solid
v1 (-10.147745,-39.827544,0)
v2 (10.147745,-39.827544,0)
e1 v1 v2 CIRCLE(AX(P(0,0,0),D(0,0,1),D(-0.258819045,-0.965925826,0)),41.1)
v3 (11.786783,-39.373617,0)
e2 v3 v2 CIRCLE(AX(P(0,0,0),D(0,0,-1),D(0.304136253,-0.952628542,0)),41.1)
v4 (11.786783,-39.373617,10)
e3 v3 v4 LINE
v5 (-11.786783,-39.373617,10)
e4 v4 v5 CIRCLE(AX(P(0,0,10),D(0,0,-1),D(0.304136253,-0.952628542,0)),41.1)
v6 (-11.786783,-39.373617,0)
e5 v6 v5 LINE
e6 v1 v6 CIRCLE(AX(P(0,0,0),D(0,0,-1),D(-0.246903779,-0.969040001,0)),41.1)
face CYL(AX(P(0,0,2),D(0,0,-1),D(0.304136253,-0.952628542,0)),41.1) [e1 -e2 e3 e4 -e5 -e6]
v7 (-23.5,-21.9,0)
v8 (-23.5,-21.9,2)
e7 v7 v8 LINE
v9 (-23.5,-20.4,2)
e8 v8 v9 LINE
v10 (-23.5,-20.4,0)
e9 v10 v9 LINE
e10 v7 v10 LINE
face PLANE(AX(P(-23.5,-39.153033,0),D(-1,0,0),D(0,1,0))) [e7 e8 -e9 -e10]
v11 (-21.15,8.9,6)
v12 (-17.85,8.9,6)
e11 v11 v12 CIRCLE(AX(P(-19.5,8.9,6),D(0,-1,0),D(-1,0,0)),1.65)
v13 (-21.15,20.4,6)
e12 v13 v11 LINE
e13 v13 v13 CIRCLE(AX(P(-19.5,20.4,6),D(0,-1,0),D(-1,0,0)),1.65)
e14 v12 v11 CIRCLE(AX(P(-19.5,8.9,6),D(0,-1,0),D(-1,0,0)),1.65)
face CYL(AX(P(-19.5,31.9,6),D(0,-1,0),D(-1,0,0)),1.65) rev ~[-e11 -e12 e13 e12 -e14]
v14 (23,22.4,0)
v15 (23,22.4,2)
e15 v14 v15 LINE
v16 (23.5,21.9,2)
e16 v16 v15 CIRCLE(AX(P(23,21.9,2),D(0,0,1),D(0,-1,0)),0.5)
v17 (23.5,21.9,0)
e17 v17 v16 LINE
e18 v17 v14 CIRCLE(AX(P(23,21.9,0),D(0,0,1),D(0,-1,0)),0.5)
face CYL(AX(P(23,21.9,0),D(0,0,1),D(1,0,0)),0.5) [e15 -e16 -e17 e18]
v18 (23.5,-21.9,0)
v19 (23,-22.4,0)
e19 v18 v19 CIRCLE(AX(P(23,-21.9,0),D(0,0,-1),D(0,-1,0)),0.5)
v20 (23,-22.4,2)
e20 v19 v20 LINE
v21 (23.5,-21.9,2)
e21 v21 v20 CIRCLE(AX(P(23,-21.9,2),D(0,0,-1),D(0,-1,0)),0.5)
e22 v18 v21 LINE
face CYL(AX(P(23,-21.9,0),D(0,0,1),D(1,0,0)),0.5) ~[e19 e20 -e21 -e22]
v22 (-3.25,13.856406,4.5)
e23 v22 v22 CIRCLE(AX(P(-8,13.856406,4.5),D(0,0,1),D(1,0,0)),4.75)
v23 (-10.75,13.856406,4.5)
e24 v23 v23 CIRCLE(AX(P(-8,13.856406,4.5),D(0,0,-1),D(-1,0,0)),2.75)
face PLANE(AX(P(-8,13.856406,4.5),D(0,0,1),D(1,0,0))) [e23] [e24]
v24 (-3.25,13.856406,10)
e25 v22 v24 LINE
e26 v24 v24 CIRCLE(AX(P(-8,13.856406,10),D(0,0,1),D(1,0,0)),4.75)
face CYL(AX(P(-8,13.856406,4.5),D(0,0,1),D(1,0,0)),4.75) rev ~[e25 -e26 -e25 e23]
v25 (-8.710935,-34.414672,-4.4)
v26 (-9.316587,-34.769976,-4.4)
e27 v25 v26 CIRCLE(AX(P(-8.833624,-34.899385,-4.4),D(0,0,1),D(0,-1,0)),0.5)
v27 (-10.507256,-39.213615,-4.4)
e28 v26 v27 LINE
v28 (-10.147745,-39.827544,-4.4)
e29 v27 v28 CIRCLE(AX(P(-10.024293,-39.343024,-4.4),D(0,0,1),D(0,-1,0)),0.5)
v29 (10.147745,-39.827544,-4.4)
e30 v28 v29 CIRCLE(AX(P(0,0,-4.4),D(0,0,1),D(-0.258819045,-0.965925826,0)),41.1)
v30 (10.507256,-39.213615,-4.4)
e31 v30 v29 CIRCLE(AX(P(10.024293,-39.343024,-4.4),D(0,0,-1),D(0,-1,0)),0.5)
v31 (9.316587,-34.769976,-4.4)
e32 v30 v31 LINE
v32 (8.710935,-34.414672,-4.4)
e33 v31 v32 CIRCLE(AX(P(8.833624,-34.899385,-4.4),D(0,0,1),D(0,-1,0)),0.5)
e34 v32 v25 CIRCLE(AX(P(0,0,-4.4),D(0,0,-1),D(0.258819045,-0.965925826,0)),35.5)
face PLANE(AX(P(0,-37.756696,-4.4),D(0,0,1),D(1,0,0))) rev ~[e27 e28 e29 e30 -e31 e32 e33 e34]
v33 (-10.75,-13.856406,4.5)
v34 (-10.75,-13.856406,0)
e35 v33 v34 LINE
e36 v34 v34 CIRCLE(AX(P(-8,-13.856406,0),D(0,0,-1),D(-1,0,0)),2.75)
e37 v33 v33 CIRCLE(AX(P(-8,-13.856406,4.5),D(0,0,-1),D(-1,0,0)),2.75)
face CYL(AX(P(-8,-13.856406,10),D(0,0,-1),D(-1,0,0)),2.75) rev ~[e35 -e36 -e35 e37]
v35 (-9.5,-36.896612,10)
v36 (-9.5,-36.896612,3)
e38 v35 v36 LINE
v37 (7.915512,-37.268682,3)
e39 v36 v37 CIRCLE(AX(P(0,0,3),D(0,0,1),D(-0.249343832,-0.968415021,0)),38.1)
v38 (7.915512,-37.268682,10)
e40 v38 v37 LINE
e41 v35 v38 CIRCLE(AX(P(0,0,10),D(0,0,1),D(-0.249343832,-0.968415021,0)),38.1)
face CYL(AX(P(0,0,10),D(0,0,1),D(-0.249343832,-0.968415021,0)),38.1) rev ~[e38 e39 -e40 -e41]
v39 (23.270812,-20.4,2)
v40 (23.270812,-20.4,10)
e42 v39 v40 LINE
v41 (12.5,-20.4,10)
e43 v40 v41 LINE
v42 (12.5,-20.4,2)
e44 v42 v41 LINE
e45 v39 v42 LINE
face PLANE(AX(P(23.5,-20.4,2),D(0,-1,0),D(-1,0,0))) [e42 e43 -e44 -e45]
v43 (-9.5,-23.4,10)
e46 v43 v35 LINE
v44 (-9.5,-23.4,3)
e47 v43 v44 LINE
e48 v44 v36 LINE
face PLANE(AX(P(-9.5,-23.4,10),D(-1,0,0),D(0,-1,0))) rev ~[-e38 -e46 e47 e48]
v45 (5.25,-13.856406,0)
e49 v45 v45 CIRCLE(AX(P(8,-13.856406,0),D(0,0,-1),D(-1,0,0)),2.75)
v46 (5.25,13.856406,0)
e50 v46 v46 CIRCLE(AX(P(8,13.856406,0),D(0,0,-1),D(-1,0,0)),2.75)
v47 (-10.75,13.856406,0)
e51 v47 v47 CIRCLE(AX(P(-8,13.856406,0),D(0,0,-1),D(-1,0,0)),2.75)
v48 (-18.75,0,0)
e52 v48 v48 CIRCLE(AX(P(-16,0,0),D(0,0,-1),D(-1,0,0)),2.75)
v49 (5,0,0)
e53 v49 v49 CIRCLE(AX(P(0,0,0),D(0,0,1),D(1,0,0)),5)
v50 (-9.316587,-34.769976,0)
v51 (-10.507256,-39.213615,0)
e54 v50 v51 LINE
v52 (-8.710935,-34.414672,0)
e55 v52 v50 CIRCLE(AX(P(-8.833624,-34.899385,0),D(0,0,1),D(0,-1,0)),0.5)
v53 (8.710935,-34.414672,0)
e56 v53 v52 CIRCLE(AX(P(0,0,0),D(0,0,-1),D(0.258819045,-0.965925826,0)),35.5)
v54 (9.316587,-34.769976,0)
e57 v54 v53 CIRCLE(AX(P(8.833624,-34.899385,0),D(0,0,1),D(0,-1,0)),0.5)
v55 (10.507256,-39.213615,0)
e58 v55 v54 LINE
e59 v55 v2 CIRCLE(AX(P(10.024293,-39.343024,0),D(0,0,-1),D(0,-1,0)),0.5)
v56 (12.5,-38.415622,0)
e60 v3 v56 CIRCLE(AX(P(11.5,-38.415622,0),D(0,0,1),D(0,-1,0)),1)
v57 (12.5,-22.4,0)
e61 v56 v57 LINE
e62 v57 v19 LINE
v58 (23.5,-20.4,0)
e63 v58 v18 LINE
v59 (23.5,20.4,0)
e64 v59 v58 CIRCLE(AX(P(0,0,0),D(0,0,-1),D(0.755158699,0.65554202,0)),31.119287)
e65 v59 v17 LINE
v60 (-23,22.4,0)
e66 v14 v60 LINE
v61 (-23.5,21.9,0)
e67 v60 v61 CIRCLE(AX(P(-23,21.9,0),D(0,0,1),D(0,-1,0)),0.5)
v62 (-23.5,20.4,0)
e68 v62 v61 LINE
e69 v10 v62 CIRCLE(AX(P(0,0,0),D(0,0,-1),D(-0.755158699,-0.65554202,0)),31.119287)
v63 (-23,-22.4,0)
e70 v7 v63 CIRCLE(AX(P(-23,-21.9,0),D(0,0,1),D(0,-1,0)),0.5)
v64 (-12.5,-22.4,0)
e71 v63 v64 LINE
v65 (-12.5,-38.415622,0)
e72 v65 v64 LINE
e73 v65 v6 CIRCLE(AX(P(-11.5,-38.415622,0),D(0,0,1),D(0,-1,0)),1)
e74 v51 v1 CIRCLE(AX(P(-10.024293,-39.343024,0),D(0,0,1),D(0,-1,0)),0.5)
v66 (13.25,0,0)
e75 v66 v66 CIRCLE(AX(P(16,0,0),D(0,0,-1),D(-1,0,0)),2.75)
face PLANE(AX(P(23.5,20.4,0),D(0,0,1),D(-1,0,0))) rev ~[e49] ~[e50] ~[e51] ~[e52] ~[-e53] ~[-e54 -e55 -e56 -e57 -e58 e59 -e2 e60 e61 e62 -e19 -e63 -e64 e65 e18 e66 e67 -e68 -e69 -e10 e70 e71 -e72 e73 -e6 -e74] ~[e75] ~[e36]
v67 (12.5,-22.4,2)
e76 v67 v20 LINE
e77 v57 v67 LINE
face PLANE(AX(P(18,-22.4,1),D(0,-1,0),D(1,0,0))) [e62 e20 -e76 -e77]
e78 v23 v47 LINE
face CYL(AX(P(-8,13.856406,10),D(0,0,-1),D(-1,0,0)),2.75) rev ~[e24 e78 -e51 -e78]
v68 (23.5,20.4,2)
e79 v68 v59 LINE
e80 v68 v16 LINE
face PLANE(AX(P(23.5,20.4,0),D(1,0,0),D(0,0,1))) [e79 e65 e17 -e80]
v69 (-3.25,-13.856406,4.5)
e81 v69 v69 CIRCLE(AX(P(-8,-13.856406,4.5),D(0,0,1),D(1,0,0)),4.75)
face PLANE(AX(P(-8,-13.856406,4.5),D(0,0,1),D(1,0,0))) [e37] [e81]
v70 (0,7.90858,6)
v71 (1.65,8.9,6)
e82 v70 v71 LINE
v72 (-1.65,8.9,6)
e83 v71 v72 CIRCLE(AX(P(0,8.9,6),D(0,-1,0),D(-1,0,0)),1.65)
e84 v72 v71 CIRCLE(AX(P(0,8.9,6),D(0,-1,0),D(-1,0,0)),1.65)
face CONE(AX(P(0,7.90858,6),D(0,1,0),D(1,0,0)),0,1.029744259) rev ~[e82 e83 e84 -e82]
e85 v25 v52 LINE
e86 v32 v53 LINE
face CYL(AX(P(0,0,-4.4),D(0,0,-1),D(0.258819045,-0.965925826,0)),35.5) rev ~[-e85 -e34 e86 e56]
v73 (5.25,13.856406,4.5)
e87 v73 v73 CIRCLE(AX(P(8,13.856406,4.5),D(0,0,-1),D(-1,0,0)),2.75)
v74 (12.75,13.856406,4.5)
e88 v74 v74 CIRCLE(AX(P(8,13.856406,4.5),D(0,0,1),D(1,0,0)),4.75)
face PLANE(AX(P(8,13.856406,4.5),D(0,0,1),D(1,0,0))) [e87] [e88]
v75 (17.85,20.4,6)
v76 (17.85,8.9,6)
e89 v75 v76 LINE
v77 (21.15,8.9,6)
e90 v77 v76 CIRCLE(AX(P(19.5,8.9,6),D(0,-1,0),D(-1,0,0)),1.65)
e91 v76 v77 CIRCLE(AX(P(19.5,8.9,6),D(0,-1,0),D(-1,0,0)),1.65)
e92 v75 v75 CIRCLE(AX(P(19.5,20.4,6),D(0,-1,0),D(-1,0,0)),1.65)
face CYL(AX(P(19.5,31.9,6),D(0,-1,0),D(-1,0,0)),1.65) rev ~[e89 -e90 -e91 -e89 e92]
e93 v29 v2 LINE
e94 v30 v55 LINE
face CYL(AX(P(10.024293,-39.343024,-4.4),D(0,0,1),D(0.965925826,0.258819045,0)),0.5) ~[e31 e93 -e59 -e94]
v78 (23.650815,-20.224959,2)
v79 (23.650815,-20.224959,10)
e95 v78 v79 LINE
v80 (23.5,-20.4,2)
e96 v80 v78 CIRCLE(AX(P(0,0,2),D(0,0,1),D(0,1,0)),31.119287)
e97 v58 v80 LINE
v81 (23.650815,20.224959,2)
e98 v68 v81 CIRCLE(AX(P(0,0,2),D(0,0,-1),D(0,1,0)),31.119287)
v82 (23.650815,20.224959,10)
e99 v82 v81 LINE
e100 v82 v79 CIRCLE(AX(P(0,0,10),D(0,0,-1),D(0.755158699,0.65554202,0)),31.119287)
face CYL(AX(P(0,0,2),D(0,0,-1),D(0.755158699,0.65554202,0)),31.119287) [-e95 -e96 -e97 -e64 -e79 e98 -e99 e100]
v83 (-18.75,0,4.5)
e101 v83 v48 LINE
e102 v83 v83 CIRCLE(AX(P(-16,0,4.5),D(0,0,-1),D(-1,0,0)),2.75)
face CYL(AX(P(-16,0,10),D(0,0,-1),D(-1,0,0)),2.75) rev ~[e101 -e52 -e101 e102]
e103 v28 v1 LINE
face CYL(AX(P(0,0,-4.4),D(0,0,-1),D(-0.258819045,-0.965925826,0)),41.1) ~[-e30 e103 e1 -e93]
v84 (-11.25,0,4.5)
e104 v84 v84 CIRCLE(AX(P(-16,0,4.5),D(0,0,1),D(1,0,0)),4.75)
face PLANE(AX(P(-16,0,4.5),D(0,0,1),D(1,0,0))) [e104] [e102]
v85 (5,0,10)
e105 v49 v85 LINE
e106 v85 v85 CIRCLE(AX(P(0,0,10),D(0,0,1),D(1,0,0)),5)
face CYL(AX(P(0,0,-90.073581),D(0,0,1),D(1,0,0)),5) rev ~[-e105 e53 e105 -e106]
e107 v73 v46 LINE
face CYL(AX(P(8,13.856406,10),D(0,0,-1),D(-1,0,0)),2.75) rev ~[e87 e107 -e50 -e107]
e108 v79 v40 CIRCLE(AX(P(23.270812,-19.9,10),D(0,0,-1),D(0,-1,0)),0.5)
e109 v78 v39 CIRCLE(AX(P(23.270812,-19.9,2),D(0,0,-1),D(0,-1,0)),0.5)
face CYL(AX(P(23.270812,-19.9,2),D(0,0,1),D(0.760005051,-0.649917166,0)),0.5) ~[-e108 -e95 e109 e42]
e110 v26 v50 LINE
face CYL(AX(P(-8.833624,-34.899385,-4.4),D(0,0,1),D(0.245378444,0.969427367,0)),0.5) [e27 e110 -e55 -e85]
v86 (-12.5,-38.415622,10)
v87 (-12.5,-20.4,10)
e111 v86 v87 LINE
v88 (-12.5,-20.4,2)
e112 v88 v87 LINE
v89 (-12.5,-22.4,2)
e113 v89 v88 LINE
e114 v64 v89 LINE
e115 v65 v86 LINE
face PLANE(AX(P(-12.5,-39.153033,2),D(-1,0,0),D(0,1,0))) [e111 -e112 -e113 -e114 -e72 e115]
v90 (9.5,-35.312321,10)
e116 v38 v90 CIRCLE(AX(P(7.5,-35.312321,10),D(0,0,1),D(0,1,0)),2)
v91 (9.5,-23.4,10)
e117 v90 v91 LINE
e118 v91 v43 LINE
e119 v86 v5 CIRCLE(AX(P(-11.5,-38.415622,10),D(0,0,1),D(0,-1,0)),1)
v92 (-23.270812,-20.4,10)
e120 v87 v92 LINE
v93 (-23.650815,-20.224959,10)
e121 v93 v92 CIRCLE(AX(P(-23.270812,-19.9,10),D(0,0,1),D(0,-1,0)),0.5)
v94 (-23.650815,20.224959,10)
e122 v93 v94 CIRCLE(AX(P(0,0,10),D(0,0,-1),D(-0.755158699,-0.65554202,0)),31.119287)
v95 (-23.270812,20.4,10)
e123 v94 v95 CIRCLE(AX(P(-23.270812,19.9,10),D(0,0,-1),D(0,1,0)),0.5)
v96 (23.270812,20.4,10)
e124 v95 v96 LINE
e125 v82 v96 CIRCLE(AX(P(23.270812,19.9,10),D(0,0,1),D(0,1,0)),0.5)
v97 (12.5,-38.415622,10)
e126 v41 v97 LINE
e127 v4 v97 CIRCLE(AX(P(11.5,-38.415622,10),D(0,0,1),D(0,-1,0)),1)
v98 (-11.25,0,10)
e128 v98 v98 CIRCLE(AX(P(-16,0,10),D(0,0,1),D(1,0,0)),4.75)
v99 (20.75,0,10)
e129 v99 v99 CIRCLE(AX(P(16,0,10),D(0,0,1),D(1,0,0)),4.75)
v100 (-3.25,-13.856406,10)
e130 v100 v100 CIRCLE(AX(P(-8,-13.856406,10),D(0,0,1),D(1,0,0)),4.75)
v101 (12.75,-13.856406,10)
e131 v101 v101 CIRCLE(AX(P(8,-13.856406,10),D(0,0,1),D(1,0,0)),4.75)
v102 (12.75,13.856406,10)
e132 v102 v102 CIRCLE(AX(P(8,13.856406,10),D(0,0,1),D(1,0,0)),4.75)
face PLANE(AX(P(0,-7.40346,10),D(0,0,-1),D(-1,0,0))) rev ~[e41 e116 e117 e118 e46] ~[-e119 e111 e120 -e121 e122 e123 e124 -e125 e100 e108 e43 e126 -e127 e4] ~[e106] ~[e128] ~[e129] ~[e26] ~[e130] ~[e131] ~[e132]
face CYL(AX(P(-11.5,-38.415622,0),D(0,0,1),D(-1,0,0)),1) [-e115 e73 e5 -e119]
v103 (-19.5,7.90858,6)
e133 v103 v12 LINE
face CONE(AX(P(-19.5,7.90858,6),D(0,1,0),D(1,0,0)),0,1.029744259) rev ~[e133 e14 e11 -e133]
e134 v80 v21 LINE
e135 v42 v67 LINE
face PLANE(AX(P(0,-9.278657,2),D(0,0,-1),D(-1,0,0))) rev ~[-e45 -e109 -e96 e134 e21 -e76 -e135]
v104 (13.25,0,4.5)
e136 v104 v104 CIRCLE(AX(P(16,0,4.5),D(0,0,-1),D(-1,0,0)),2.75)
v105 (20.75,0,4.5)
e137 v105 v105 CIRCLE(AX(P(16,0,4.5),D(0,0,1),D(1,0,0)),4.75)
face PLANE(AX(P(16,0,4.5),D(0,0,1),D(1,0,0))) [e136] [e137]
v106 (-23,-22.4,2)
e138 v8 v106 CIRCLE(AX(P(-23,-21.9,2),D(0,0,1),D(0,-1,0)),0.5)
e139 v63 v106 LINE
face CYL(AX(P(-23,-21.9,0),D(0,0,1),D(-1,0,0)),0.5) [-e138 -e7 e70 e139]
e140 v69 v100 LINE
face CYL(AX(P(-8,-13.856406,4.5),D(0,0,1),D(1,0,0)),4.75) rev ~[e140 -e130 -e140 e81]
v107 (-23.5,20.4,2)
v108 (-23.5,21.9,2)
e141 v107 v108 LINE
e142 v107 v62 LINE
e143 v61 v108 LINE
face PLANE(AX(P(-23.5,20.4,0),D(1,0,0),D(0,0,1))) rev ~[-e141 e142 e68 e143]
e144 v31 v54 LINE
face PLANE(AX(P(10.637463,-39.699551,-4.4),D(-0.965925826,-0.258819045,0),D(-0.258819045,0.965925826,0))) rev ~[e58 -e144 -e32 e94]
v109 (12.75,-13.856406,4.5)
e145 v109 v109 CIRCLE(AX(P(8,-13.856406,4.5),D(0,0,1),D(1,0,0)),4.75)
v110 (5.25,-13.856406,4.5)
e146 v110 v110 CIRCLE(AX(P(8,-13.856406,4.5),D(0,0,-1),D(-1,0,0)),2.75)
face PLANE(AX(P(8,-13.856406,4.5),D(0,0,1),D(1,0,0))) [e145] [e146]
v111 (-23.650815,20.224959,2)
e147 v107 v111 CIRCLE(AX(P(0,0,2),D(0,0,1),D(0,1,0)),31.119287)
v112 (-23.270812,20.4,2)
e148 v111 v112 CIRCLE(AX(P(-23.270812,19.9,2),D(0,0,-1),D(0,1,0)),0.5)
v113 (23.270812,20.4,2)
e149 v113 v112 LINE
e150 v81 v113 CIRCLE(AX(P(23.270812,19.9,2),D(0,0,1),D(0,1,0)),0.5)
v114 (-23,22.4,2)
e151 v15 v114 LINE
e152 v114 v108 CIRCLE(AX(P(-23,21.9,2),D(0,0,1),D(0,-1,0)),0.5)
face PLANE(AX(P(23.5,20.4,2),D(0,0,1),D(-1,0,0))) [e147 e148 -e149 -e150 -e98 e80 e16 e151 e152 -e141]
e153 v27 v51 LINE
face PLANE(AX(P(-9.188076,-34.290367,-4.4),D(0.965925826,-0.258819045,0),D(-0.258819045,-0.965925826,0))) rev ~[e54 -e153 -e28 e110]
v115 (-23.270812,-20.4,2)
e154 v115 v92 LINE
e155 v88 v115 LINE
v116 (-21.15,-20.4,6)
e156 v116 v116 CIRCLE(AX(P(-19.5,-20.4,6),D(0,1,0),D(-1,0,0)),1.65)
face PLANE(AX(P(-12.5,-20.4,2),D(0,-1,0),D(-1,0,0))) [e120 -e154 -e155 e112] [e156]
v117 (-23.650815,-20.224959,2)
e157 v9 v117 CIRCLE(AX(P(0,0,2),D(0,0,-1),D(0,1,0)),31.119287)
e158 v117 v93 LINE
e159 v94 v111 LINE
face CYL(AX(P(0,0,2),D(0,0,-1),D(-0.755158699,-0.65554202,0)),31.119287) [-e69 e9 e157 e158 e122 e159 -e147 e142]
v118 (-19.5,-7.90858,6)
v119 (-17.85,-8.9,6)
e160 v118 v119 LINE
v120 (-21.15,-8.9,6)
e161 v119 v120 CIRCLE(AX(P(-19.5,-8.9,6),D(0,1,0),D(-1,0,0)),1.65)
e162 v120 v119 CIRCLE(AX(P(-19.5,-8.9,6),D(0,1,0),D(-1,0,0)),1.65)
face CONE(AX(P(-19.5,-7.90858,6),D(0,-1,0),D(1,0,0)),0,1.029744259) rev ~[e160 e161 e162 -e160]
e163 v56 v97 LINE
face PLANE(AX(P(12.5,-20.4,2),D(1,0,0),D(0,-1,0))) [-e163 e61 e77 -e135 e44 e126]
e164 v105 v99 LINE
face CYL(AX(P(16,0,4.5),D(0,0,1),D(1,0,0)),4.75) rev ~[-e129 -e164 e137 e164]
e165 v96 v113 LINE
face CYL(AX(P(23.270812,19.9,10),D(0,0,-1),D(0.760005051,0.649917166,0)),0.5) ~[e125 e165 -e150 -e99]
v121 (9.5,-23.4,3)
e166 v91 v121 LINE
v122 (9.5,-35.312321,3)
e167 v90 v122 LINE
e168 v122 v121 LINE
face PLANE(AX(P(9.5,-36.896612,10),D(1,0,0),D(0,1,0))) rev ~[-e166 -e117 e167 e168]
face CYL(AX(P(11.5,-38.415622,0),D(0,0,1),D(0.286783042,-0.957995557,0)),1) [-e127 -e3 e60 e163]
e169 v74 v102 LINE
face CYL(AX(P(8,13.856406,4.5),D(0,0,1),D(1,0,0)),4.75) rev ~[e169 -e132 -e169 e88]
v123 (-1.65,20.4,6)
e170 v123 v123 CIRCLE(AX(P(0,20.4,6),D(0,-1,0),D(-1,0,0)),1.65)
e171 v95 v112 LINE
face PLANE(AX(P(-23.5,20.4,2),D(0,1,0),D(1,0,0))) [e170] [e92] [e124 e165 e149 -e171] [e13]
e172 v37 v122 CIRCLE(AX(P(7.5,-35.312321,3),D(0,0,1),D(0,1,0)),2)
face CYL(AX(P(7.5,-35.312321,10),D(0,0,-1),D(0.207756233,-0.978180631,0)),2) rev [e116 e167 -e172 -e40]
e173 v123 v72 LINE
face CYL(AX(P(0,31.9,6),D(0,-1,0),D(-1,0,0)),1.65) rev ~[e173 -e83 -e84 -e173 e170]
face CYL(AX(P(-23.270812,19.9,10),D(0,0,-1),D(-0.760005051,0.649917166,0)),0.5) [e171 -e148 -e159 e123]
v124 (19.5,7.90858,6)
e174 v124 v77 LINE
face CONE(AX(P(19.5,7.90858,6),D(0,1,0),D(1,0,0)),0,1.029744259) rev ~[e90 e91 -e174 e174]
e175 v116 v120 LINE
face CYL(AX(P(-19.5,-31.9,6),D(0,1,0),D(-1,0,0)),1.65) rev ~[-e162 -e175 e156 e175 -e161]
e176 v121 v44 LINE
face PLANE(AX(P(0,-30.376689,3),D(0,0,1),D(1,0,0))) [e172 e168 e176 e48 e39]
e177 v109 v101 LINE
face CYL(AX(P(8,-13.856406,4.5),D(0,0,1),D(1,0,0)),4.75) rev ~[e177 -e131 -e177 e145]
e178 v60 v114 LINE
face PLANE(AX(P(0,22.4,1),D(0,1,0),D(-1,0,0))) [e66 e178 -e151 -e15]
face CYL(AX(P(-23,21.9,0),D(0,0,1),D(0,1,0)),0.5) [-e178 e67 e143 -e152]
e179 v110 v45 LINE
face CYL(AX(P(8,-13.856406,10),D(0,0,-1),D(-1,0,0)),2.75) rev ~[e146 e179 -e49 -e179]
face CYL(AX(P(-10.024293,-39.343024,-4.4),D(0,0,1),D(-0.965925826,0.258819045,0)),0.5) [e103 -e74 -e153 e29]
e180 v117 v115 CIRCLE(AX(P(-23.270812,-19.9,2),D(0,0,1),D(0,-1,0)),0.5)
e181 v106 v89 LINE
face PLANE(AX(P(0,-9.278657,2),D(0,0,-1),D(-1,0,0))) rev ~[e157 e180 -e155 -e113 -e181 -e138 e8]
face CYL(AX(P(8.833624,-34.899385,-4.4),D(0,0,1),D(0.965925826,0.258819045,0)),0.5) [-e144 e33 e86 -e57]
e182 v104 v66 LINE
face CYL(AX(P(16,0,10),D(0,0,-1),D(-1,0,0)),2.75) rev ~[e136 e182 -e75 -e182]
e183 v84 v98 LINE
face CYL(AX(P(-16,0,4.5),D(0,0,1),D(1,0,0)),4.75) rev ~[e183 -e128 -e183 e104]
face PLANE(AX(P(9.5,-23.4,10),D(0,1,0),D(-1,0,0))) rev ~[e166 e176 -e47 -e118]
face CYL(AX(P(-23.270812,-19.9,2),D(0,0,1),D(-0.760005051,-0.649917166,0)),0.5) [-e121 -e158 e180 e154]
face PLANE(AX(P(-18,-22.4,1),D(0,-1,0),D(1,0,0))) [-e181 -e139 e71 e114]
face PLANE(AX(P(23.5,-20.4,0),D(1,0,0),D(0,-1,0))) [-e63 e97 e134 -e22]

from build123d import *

# Parameters (mm, degrees)
EXTRUDE_1_DEPTH              = 2
SKETCH_2_W                   = 11
SKETCH_2_H                   = 2
CUT_EXTRUDE_1_DEPTH          = 16.753033088
SKETCH_3_W                   = 11
SKETCH_3_H                   = 2
CUT_EXTRUDE_2_DEPTH          = 16.753033088
EXTRUDE_2_DEPTH              = 8
SKETCH_5_W                   = 47
SKETCH_5_H                   = 2
EXTRUDE_3_DEPTH              = 2
EXTRUDE_START                = 4.4
EXTRUDE_4_DEPTH              = 4.4
CUT_EXTRUDE_3_DEPTH          = 7
HOLE_WIZARD_3_3_3_3_1_D      = 3.3
HOLE_WIZARD_3_3_3_3_1_DEPTH  = 11.5
HOLE_WIZARD_3_3_3_3_1_TIP    = 0.991420021
HOLE_WIZARD_3_3_3_3_2_D      = 3.3
HOLE_WIZARD_3_3_3_3_2_DEPTH  = 11.5
HOLE_WIZARD_3_3_3_3_2_TIP    = 0.991420021
HOLE_WIZARD_10_0_10_1_D      = 10
HOLE_WIZARD_M5_1_D           = 5.5
HOLE_WIZARD_M5_1_DEPTH       = 14.4
HOLE_WIZARD_M5_1_CBORE_D     = 9.5
HOLE_WIZARD_M5_1_CBORE_DEPTH = 5.5
FILLET_1_R                   = 0.5
FILLET_2_R                   = 1
FILLET_4_R                   = 2


with BuildPart() as part:
    # 草图1 → 凸台-拉伸1 (new body)
    with BuildSketch(Plane(origin=(0, 0, 0), x_dir=(-1, 0, 0), z_dir=(0, 0, -1))):
        with BuildLine():
            Line((12.5, -39.153033088), (23.5, -39.153033088))
            Line((23.5, -39.153033088), (23.5, -20.4))
            ThreePointArc((23.5, -20.4), (31.119286624, 0), (23.5, 20.4))
            Line((23.5, 20.4), (-23.5, 20.4))
            ThreePointArc((-23.5, 20.4), (-31.119286624, 0), (-23.5, -20.4))
            Line((-23.5, -20.4), (-23.5, -39.153033088))
            Line((-23.5, -39.153033088), (-12.5, -39.153033088))
            ThreePointArc((-12.5, -39.153033088), (0, -41.1), (12.5, -39.153033088))
        make_face()
    extrude(amount=-EXTRUDE_1_DEPTH)

    # 草图2 → 切除-拉伸1 (cut)
    with BuildSketch(Plane.XZ.offset(39.153033088)):
        with Locations((-18, 1)):
            Rectangle(SKETCH_2_W, SKETCH_2_H)
    extrude(amount=-CUT_EXTRUDE_1_DEPTH, mode=Mode.SUBTRACT)

    # 草图3 → 切除-拉伸2 (cut)
    with BuildSketch(Plane.XZ.offset(39.153033088)):
        with Locations((18, 1)):
            Rectangle(SKETCH_3_W, SKETCH_3_H)
    extrude(amount=-CUT_EXTRUDE_2_DEPTH, mode=Mode.SUBTRACT)

    # 草图4 → 凸台-拉伸2 (add)
    with BuildSketch(Plane.XY.offset(2)):
        with BuildLine():
            Line((-12.5, -39.153033088), (-12.5, -20.4))
            Line((-12.5, -20.4), (-23.5, -20.4))
            ThreePointArc((-23.5, -20.4), (-31.119286624, 0), (-23.5, 20.4))
            Line((-23.5, 20.4), (23.5, 20.4))
            ThreePointArc((23.5, 20.4), (31.119286624, 0), (23.5, -20.4))
            Line((23.5, -20.4), (12.5, -20.4))
            Line((12.5, -20.4), (12.5, -39.153033088))
            ThreePointArc((12.5, -39.153033088), (0, -41.1), (-12.5, -39.153033088))
        make_face()
    extrude(amount=EXTRUDE_2_DEPTH)

    # 草图5 → 凸台-拉伸3 (add)
    with BuildSketch(Plane(origin=(0, 20.4, 0), x_dir=(-1, 0, 0), z_dir=(0, 1, 0))):
        with Locations((0, 1)):
            Rectangle(SKETCH_5_W, SKETCH_5_H)
    extrude(amount=EXTRUDE_3_DEPTH)

    # 草图6 → 凸台-拉伸4 (add)
    with BuildSketch(Plane(origin=(0, 0, 0), x_dir=(-1, 0, 0), z_dir=(0, 0, -1)).offset(EXTRUDE_START)):
        with BuildLine():
            Line((9.188076101, -34.290366833), (10.637462754, -39.69955146))
            ThreePointArc((10.637462754, -39.69955146), (0, -41.1), (-10.637462754, -39.69955146))
            Line((-10.637462754, -39.69955146), (-9.188076101, -34.290366833))
            ThreePointArc((-9.188076101, -34.290366833), (0, -35.5), (9.188076101, -34.290366833))
        make_face()
    extrude(amount=-EXTRUDE_4_DEPTH)

    # 草图7 → 切除-拉伸3 (cut)
    with BuildSketch(Plane.XY.offset(10)):
        with BuildLine():
            Line((9.5, -36.896612311), (9.5, -23.4))
            Line((9.5, -23.4), (-9.5, -23.4))
            Line((-9.5, -23.4), (-9.5, -36.896612311))
            ThreePointArc((-9.5, -36.896612311), (0, -38.1), (9.5, -36.896612311))
        make_face()
    extrude(amount=-CUT_EXTRUDE_3_DEPTH, mode=Mode.SUBTRACT)

    # Ø3.3 (3.3) 直径孔1
    with Locations(Plane(origin=(0, 20.4, 0), x_dir=(1, 0, 0), z_dir=(0, 1, 0))):
        with Locations((-19.5, -6), (19.5, -6), (0, -6)):
            Hole(HOLE_WIZARD_3_3_3_3_1_D / 2, depth=HOLE_WIZARD_3_3_3_3_1_DEPTH)
            with Locations((0, 0, -(HOLE_WIZARD_3_3_3_3_1_DEPTH + HOLE_WIZARD_3_3_3_3_1_TIP / 2))):  # 118° drill point
                Cone(0, HOLE_WIZARD_3_3_3_3_1_D / 2, HOLE_WIZARD_3_3_3_3_1_TIP, mode=Mode.SUBTRACT)

    # Ø3.3 (3.3) 直径孔2
    with Locations(Plane.XZ.offset(20.4)):
        with Locations((-19.5, -6), (-19.5, 6)):
            Hole(HOLE_WIZARD_3_3_3_3_2_D / 2, depth=HOLE_WIZARD_3_3_3_3_2_DEPTH)
            with Locations((0, 0, -(HOLE_WIZARD_3_3_3_3_2_DEPTH + HOLE_WIZARD_3_3_3_3_2_TIP / 2))):  # 118° drill point
                Cone(0, HOLE_WIZARD_3_3_3_3_2_D / 2, HOLE_WIZARD_3_3_3_3_2_TIP, mode=Mode.SUBTRACT)

    # Ø10.0 (10) 直径孔1 (through all)
    with Locations(Plane(origin=(0, 0, 0), x_dir=(-1, 0, 0), z_dir=(0, 0, -1))):
        with Locations((0, 0)):
            Hole(HOLE_WIZARD_10_0_10_1_D / 2)

    # M5 六角头螺栓的柱形沉头孔1
    with Locations(Plane.XY.offset(10)):
        with Locations((16, 0), (8, -13.856406461), (-8, -13.856406461), (-16, 0), (-8, 13.856406461), (8, 13.856406461)):
            CounterBoreHole(HOLE_WIZARD_M5_1_D / 2, HOLE_WIZARD_M5_1_CBORE_D / 2, HOLE_WIZARD_M5_1_CBORE_DEPTH, depth=HOLE_WIZARD_M5_1_DEPTH)

    # 圆角1
    fillet_1_edges = [part.edges().sort_by_distance(p)[0] for p in [
        (23.5, 20.4, 6),
        (-23.5, 20.4, 6),
        (-23.5, -22.4, 1),
        (23.5, -22.4, 1),
        (23.5, -20.4, 6),
        (-23.5, -20.4, 6),
        (23.5, 22.4, 1),
        (-23.5, 22.4, 1),
        (-9.188076101, -34.290366833, -2.2),
        (9.188076101, -34.290366833, -2.2),
        (10.637462754, -39.69955146, -2.2),
        (-10.637462754, -39.69955146, -2.2),
    ]]
    fillet(fillet_1_edges, radius=FILLET_1_R)

    # 圆角2
    fillet_2_edges = [part.edges().sort_by_distance(p)[0] for p in [
        (12.5, -39.153033088, 5),
        (-12.5, -39.153033088, 5),
    ]]
    fillet(fillet_2_edges, radius=FILLET_2_R)

    # 圆角4
    fillet_4_edges = [part.edges().sort_by_distance(p)[0] for p in [
        (9.5, -36.896612311, 6.5),
    ]]
    fillet(fillet_4_edges, radius=FILLET_4_R)


solid = part.part
